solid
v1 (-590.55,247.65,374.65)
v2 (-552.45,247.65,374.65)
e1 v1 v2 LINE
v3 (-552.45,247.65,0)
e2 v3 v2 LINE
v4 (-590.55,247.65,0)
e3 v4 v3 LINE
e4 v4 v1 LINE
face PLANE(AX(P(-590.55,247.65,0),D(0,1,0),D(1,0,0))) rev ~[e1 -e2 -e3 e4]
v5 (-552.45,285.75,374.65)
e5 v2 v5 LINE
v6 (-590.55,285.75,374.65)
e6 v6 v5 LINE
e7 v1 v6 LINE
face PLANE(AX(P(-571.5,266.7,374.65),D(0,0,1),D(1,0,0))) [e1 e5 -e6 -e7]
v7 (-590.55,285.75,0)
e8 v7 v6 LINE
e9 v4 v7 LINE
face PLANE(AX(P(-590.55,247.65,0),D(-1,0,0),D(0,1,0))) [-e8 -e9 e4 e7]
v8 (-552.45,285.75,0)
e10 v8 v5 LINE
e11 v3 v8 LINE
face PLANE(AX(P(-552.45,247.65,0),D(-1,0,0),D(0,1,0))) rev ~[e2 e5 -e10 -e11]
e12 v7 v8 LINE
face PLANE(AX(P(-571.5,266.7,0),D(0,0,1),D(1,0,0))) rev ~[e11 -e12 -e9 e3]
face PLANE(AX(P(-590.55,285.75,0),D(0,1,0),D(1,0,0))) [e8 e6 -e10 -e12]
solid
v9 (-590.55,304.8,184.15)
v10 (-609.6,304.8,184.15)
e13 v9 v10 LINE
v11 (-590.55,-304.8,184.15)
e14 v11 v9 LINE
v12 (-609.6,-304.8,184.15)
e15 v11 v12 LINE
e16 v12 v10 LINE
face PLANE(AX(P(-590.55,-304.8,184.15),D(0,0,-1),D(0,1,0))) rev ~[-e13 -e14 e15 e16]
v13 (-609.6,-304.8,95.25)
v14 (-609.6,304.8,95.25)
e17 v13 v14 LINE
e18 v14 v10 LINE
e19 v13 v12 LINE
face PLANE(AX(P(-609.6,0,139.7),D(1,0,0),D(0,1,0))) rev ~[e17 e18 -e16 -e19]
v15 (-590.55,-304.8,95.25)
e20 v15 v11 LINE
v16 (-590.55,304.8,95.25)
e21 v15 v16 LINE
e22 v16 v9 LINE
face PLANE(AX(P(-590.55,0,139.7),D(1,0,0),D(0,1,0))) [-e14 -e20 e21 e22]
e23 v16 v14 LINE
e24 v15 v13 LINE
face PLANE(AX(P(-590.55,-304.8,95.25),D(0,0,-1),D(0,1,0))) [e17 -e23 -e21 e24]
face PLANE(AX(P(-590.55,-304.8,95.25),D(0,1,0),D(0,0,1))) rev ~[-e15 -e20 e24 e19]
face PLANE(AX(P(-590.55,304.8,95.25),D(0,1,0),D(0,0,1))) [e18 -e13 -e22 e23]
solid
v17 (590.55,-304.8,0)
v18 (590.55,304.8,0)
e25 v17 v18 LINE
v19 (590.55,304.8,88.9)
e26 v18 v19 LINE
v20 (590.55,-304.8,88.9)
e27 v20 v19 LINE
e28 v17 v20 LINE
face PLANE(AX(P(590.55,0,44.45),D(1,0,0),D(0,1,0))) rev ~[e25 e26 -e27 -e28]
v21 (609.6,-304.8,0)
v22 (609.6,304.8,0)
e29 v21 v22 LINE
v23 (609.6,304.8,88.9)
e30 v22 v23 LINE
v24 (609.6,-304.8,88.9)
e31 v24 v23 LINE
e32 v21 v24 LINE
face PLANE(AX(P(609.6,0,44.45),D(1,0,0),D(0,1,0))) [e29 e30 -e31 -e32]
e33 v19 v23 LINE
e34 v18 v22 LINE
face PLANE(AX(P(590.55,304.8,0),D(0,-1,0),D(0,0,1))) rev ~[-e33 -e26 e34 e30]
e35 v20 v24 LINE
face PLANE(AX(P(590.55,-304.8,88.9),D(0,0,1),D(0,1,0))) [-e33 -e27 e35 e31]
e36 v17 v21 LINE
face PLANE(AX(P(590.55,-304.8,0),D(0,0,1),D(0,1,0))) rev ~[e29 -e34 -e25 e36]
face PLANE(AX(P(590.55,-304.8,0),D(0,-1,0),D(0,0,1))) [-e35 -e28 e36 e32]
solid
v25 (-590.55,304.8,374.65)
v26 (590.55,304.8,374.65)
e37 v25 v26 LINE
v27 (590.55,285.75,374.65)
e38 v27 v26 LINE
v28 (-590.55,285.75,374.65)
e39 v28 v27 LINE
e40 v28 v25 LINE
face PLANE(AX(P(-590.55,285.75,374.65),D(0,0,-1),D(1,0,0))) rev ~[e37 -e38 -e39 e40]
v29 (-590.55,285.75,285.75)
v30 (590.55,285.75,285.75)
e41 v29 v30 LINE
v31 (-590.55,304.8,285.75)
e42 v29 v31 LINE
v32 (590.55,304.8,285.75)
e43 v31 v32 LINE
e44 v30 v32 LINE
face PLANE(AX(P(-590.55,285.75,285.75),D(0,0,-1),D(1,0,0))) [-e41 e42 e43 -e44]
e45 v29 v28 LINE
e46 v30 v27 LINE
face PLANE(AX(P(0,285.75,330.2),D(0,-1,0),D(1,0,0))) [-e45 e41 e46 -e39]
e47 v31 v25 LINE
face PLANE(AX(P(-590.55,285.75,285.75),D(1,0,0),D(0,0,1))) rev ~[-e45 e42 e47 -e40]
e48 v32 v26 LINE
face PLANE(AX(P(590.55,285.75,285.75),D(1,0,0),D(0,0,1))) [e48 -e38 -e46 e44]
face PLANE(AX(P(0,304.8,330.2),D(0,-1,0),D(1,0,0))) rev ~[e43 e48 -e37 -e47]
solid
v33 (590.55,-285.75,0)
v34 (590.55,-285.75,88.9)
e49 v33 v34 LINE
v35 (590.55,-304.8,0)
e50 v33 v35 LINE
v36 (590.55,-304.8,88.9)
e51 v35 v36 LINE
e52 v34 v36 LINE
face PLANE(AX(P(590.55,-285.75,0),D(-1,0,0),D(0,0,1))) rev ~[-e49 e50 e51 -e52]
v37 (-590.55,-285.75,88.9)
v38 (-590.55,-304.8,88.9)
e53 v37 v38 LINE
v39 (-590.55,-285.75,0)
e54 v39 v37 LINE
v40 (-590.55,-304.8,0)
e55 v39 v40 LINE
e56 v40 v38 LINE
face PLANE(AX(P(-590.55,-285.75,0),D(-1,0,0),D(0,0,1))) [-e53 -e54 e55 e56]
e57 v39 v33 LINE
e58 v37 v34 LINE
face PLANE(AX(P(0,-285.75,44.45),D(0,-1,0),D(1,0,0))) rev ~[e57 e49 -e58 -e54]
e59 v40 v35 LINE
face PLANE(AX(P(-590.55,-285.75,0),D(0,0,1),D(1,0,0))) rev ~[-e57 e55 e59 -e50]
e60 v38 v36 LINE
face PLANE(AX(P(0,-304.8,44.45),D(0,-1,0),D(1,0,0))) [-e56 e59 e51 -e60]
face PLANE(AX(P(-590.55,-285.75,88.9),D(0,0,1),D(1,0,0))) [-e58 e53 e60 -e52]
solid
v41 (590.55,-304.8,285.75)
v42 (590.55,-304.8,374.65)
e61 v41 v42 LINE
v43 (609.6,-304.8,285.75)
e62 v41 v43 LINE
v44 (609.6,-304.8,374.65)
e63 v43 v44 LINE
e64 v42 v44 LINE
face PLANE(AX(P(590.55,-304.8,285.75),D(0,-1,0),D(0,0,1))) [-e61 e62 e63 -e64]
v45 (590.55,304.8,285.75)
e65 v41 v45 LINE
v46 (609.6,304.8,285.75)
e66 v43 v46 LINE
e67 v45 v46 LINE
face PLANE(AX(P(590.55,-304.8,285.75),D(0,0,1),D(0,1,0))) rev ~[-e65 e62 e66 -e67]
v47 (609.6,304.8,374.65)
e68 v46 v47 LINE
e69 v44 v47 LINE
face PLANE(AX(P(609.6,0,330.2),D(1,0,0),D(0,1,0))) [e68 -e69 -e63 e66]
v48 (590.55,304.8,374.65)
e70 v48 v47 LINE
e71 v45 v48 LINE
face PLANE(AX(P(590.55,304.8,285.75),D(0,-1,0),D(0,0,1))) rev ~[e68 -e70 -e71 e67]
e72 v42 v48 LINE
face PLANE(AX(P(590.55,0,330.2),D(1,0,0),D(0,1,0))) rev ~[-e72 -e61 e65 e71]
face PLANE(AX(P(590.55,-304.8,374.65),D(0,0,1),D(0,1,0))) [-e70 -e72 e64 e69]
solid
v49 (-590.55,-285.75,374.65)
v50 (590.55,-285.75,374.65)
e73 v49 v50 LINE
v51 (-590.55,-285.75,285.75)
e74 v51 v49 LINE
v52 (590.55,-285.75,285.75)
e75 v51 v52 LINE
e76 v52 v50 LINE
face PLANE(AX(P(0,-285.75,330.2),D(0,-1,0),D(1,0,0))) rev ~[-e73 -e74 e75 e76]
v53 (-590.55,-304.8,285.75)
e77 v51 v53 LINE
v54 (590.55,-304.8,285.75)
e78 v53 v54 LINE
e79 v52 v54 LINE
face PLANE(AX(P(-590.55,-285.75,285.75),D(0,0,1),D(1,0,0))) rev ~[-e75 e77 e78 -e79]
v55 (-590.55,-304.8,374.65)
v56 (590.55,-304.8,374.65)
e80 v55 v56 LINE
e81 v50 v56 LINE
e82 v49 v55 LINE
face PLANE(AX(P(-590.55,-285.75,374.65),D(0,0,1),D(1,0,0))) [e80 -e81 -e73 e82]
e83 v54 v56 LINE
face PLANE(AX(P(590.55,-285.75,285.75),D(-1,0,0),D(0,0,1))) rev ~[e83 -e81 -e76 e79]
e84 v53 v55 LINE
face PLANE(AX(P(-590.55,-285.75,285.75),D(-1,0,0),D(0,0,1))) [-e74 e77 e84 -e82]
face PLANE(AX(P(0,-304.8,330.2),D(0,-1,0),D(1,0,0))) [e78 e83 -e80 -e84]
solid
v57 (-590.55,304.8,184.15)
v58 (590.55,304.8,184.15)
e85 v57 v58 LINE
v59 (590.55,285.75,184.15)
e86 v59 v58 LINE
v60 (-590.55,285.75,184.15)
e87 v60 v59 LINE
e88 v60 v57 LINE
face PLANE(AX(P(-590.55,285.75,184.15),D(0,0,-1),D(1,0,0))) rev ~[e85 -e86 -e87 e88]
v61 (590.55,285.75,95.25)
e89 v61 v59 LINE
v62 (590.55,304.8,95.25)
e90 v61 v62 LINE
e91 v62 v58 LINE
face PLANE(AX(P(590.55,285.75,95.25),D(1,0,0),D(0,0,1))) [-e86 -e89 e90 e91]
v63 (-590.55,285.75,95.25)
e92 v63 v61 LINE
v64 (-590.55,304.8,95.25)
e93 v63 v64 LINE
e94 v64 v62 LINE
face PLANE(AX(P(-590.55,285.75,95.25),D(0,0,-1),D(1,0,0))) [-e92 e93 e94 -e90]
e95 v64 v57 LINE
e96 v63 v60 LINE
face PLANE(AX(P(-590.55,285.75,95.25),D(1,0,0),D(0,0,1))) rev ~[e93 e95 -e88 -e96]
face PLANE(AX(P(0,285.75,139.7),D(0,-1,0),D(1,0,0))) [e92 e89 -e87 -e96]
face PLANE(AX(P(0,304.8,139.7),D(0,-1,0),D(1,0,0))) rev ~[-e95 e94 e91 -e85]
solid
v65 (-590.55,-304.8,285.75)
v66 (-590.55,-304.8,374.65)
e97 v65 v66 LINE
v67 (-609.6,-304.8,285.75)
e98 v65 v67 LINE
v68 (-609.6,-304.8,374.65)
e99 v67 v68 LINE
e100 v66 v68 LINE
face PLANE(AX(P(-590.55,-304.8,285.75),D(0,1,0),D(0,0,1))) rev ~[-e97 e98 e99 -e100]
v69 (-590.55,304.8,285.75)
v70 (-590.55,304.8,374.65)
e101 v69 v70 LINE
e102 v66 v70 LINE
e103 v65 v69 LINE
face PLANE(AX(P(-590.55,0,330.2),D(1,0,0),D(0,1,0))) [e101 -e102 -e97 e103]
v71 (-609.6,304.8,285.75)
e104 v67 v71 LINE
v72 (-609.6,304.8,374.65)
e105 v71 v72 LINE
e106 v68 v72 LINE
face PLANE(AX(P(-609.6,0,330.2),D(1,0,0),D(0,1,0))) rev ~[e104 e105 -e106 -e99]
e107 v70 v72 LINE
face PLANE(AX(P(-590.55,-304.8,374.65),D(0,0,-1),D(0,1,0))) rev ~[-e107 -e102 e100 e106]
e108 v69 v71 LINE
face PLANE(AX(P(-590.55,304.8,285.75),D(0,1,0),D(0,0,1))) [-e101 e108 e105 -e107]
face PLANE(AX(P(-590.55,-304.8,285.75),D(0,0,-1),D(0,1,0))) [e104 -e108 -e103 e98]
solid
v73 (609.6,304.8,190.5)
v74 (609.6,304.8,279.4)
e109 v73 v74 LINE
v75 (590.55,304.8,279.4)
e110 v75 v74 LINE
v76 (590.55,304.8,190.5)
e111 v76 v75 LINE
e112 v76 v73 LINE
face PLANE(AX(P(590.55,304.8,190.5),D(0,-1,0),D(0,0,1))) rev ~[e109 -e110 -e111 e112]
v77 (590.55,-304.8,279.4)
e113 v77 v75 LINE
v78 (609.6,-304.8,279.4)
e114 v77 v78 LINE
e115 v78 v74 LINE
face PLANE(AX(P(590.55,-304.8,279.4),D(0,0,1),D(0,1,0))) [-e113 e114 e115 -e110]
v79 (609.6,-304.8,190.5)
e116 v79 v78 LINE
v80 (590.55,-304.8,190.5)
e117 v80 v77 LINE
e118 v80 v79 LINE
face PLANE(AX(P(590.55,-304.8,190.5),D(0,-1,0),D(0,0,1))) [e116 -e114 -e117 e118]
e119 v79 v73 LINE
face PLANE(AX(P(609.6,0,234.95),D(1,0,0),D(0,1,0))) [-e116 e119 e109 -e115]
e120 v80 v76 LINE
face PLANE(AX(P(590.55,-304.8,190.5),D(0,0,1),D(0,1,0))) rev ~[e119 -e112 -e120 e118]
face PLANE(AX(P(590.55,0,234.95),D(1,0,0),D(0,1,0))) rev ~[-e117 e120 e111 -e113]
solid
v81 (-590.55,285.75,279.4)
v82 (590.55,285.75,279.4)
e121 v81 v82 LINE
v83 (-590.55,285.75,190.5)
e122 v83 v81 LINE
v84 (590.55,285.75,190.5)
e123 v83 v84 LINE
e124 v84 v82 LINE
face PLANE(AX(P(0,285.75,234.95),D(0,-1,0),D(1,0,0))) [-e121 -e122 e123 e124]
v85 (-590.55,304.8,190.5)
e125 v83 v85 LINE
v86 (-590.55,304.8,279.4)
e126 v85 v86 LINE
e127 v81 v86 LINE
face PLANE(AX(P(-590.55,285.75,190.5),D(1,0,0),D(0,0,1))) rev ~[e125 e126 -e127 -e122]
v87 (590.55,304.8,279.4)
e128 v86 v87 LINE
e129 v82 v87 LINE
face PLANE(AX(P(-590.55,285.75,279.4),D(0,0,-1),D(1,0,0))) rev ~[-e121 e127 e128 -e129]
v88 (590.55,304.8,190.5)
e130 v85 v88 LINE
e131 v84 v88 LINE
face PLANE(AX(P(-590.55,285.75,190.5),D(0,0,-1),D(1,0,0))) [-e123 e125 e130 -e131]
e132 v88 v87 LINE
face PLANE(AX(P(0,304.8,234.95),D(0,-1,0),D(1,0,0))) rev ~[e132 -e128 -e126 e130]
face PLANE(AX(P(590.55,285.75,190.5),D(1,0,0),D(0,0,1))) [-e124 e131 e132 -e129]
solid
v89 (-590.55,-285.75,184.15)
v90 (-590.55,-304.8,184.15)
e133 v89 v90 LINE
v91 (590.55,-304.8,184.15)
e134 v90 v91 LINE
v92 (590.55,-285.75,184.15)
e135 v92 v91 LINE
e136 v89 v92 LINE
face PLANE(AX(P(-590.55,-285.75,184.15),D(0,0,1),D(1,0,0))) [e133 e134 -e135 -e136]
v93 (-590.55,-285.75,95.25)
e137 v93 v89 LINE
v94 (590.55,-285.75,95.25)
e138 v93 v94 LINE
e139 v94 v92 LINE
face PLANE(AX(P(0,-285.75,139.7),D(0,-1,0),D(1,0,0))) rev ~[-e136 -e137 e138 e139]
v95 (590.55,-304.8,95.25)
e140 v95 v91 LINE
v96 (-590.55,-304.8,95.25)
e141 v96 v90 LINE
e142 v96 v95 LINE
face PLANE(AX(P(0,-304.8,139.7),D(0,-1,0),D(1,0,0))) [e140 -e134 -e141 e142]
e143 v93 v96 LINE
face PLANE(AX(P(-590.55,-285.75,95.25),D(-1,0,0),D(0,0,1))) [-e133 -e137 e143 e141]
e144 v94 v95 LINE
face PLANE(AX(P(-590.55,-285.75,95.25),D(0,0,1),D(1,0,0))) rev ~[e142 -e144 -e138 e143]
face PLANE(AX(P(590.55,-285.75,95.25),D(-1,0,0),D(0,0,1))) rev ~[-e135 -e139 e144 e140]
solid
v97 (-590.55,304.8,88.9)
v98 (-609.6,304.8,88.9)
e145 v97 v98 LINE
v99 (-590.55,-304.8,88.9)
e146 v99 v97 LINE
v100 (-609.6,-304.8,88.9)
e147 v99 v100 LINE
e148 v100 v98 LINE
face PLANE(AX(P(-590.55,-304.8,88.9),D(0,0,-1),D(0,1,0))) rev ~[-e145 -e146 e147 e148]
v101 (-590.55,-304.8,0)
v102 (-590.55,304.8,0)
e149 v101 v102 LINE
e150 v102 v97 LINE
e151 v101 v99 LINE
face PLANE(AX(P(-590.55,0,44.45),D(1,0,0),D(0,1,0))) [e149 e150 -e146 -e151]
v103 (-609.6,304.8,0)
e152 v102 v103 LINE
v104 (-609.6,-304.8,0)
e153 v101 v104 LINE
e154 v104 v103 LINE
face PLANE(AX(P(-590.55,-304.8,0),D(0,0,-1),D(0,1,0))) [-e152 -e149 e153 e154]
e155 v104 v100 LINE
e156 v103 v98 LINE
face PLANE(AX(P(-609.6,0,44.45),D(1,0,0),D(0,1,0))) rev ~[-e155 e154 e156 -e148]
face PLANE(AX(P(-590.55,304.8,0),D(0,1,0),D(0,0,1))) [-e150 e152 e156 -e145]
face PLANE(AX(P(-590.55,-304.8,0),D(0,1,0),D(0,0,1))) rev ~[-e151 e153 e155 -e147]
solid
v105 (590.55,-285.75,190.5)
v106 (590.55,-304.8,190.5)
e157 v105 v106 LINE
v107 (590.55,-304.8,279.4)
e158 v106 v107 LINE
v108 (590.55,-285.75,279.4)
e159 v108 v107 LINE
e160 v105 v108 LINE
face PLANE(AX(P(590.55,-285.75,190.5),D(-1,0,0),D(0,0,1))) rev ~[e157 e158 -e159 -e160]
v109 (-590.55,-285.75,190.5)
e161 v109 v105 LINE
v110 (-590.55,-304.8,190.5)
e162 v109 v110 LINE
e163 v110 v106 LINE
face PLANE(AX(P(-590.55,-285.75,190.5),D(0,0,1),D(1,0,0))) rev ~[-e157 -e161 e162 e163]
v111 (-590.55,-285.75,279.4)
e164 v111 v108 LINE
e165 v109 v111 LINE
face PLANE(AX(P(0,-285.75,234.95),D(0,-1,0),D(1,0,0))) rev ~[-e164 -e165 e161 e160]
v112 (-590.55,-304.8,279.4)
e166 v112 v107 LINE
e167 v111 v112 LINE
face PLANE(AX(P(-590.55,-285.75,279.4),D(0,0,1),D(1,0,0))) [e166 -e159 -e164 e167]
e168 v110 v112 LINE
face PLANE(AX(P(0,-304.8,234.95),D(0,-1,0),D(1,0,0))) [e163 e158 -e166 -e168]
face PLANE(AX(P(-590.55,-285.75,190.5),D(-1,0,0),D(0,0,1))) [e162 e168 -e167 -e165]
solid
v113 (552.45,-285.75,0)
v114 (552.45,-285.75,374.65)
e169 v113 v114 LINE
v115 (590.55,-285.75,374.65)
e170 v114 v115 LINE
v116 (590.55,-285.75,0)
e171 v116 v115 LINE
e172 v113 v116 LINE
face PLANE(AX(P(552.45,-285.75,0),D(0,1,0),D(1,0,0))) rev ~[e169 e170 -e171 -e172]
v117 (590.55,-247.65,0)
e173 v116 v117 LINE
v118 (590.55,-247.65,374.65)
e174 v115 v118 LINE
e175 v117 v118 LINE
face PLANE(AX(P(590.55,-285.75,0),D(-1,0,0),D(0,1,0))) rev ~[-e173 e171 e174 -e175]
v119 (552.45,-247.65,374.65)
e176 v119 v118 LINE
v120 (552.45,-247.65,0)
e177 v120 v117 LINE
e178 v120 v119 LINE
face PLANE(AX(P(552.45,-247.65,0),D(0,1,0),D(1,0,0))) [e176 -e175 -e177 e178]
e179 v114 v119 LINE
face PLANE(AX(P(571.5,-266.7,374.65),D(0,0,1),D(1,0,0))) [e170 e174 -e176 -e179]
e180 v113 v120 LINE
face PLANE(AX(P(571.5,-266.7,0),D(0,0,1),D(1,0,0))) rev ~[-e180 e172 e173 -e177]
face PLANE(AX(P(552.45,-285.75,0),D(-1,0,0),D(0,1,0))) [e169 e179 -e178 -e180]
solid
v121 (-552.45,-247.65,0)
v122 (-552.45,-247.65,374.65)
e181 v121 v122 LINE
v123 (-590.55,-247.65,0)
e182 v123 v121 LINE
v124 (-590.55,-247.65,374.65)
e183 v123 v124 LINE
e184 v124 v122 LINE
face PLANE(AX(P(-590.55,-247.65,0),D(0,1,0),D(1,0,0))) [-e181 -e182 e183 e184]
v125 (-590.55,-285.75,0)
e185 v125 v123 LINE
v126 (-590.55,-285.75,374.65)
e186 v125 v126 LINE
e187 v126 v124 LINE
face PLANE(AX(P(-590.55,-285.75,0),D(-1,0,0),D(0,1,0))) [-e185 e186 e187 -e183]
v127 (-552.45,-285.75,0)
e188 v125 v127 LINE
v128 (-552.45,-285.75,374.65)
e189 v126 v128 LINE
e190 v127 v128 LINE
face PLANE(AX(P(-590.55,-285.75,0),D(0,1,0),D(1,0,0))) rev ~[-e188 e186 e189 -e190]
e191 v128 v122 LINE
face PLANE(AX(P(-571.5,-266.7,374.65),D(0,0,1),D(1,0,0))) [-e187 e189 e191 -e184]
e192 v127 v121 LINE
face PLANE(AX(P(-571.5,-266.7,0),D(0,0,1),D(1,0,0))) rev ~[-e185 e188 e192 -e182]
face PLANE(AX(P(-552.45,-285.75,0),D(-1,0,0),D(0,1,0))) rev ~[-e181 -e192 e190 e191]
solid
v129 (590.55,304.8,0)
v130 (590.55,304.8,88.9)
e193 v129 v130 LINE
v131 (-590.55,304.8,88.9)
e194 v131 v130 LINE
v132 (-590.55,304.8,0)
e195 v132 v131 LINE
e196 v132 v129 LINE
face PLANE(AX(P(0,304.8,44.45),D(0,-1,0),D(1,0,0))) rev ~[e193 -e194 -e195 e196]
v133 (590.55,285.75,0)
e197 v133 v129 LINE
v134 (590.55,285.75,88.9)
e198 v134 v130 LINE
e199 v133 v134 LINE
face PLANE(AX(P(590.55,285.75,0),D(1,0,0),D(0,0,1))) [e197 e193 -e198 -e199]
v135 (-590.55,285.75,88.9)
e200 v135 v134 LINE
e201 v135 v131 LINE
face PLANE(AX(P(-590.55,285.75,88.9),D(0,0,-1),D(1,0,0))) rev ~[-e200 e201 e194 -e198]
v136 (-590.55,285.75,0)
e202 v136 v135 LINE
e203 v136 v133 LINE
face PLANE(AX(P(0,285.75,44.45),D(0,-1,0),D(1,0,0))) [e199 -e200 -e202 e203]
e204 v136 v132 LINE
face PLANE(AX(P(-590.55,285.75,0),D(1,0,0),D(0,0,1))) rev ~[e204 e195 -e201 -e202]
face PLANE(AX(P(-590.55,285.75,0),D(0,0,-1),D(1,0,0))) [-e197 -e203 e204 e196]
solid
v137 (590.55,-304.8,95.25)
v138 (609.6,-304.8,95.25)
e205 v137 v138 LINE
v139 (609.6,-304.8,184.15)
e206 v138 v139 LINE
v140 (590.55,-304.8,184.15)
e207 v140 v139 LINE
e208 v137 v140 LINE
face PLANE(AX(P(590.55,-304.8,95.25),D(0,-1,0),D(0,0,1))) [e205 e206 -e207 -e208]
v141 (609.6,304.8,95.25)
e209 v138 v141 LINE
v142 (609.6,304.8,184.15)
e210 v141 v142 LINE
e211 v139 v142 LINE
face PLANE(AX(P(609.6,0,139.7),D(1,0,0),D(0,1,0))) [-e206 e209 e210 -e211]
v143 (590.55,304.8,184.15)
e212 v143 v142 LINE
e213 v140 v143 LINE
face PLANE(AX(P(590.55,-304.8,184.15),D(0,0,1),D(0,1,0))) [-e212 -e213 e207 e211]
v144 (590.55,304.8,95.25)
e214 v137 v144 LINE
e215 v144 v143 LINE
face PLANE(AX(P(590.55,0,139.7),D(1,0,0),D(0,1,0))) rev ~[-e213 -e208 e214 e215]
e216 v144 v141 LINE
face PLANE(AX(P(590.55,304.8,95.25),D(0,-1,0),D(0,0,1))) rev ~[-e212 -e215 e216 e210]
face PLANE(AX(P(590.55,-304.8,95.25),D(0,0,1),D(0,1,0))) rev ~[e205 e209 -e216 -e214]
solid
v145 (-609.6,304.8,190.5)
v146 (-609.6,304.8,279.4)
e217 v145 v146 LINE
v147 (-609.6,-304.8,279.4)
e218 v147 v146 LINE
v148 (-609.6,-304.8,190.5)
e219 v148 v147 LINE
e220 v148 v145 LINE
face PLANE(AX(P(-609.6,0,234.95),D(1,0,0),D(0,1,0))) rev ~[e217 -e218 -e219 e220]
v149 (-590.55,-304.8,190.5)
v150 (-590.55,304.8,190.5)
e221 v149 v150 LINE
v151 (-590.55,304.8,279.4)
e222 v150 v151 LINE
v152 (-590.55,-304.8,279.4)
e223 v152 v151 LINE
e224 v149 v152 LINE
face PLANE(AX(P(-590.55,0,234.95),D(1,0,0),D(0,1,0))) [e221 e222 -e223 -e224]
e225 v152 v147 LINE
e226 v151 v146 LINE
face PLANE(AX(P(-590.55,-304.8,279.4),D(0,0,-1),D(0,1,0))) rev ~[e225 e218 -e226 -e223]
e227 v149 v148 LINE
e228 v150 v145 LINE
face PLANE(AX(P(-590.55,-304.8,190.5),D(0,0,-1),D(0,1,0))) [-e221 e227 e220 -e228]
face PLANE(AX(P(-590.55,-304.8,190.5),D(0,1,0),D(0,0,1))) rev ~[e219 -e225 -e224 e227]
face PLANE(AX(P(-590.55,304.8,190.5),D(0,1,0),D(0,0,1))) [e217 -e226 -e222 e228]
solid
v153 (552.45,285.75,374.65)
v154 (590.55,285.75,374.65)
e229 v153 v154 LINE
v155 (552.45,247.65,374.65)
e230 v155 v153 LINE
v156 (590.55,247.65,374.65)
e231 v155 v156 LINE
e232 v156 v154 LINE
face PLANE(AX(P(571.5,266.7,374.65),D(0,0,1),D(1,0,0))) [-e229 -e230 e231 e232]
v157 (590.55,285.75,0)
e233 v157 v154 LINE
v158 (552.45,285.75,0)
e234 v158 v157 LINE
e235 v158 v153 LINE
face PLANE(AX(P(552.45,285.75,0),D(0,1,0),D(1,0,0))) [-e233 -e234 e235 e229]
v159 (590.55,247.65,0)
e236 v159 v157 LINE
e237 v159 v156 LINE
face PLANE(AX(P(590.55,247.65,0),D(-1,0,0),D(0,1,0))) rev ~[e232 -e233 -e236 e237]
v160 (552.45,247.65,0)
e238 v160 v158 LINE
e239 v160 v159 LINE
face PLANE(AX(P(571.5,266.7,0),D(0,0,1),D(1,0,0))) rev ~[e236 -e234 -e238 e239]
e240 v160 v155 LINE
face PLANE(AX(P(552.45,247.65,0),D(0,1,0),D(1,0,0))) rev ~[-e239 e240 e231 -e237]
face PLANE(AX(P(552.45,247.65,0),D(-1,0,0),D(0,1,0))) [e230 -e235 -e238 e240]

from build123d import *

# Parameters (mm, degrees)
SKETCH_W     = 38.1
SKETCH_H     = 38.1
PAD_DEPTH    = 374.65
SKETCH001_W  = 38.1
SKETCH001_H  = 38.1
PAD001_DEPTH = 374.65
SKETCH002_W  = 38.1
SKETCH002_H  = 38.1
PAD002_DEPTH = 374.65
SKETCH003_W  = 38.1
SKETCH003_H  = 38.1
PAD003_DEPTH = 374.65
SKETCH004_W  = 1181.1
SKETCH004_H  = 88.9
PAD004_DEPTH = 19.05
SKETCH012_W  = 1181.1
SKETCH012_H  = 88.9
PAD012_DEPTH = 19.05
SKETCH013_W  = 1181.1
SKETCH013_H  = 88.9
PAD013_DEPTH = 19.05
SKETCH014_W  = 1181.1
SKETCH014_H  = 88.9
PAD014_DEPTH = 19.05
SKETCH008_W  = 609.6
SKETCH008_H  = 88.9
PAD008_DEPTH = 19.05
SKETCH009_W  = 609.6
SKETCH009_H  = 88.9
PAD009_DEPTH = 19.05
SKETCH010_W  = 609.6
SKETCH010_H  = 88.9
PAD010_DEPTH = 19.05
SKETCH011_W  = 609.6
SKETCH011_H  = 88.9
PAD011_DEPTH = 19.05
SKETCH015_W  = 609.6
SKETCH015_H  = 88.9
PAD015_DEPTH = 19.05
SKETCH016_W  = 609.6
SKETCH016_H  = 88.9
PAD016_DEPTH = 19.05
SKETCH017_W  = 609.6
SKETCH017_H  = 88.9
PAD017_DEPTH = 19.05
SKETCH018_W  = 609.6
SKETCH018_H  = 88.9
PAD018_DEPTH = 19.05
SKETCH019_W  = 1181.1
SKETCH019_H  = 88.9
PAD019_DEPTH = 19.05
SKETCH020_W  = 1181.1
SKETCH020_H  = 88.9
PAD020_DEPTH = 19.05
SKETCH021_W  = 1181.1
SKETCH021_H  = 88.9
PAD021_DEPTH = 19.05
SKETCH022_W  = 1181.1
SKETCH022_H  = 88.9
PAD022_DEPTH = 19.05


with BuildPart() as post1:
    # Sketch → Pad (new body)
    with BuildSketch(Plane.XY):
        with Locations((-571.5, 266.7)):
            Rectangle(SKETCH_W, SKETCH_H)
    extrude(amount=PAD_DEPTH)


with BuildPart() as post2:
    # Sketch001 → Pad001 (new body)
    with BuildSketch(Plane.XY):
        with Locations((571.5, 266.7)):
            Rectangle(SKETCH001_W, SKETCH001_H)
    extrude(amount=PAD001_DEPTH)


with BuildPart() as post3:
    # Sketch002 → Pad002 (new body)
    with BuildSketch(Plane.XY):
        with Locations((-571.5, -266.7)):
            Rectangle(SKETCH002_W, SKETCH002_H)
    extrude(amount=PAD002_DEPTH)


with BuildPart() as post4:
    # Sketch003 → Pad003 (new body)
    with BuildSketch(Plane.XY):
        with Locations((571.5, -266.7)):
            Rectangle(SKETCH003_W, SKETCH003_H)
    extrude(amount=PAD003_DEPTH)


with BuildPart() as panelfront1:
    # Sketch004 → Pad004 (new body)
    with BuildSketch(Plane.XZ.offset(285.75)):
        with Locations((0, 44.45)):
            Rectangle(SKETCH004_W, SKETCH004_H)
    extrude(amount=PAD004_DEPTH)


with BuildPart() as panelfront2:
    # Sketch012 → Pad012 (new body)
    with BuildSketch(Plane.XZ.offset(285.75)):
        with Locations((0, 139.7)):
            Rectangle(SKETCH012_W, SKETCH012_H)
    extrude(amount=PAD012_DEPTH)


with BuildPart() as panelfront3:
    # Sketch013 → Pad013 (new body)
    with BuildSketch(Plane.XZ.offset(285.75)):
        with Locations((0, 234.95)):
            Rectangle(SKETCH013_W, SKETCH013_H)
    extrude(amount=PAD013_DEPTH)


with BuildPart() as panelfront4:
    # Sketch014 → Pad014 (new body)
    with BuildSketch(Plane.XZ.offset(285.75)):
        with Locations((0, 330.2)):
            Rectangle(SKETCH014_W, SKETCH014_H)
    extrude(amount=PAD014_DEPTH)


with BuildPart() as panelright1:
    # Sketch008 → Pad008 (new body)
    with BuildSketch(Plane.YZ.offset(590.55)):
        with Locations((0, 44.45)):
            Rectangle(SKETCH008_W, SKETCH008_H)
    extrude(amount=PAD008_DEPTH)


with BuildPart() as panelright2:
    # Sketch009 → Pad009 (new body)
    with BuildSketch(Plane.YZ.offset(590.55)):
        with Locations((0, 139.7)):
            Rectangle(SKETCH009_W, SKETCH009_H)
    extrude(amount=PAD009_DEPTH)


with BuildPart() as panelright3:
    # Sketch010 → Pad010 (new body)
    with BuildSketch(Plane.YZ.offset(590.55)):
        with Locations((0, 234.95)):
            Rectangle(SKETCH010_W, SKETCH010_H)
    extrude(amount=PAD010_DEPTH)


with BuildPart() as panelright4:
    # Sketch011 → Pad011 (new body)
    with BuildSketch(Plane.YZ.offset(590.55)):
        with Locations((0, 330.2)):
            Rectangle(SKETCH011_W, SKETCH011_H)
    extrude(amount=PAD011_DEPTH)


with BuildPart() as panelleft1:
    # Sketch015 → Pad015 (new body)
    with BuildSketch(Plane.YZ.offset(-590.55)):
        with Locations((0, 44.45)):
            Rectangle(SKETCH015_W, SKETCH015_H)
    extrude(amount=-PAD015_DEPTH)


with BuildPart() as panelleft2:
    # Sketch016 → Pad016 (new body)
    with BuildSketch(Plane.YZ.offset(-590.55)):
        with Locations((0, 139.7)):
            Rectangle(SKETCH016_W, SKETCH016_H)
    extrude(amount=-PAD016_DEPTH)


with BuildPart() as panelleft3:
    # Sketch017 → Pad017 (new body)
    with BuildSketch(Plane.YZ.offset(-590.55)):
        with Locations((0, 234.95)):
            Rectangle(SKETCH017_W, SKETCH017_H)
    extrude(amount=-PAD017_DEPTH)


with BuildPart() as panelleft4:
    # Sketch018 → Pad018 (new body)
    with BuildSketch(Plane.YZ.offset(-590.55)):
        with Locations((0, 330.2)):
            Rectangle(SKETCH018_W, SKETCH018_H)
    extrude(amount=-PAD018_DEPTH)


with BuildPart() as panelrear1:
    # Sketch019 → Pad019 (new body)
    with BuildSketch(Plane.XZ.offset(-285.75)):
        with Locations((0, 44.45)):
            Rectangle(SKETCH019_W, SKETCH019_H)
    extrude(amount=-PAD019_DEPTH)


with BuildPart() as panelrear2:
    # Sketch020 → Pad020 (new body)
    with BuildSketch(Plane.XZ.offset(-285.75)):
        with Locations((0, 139.7)):
            Rectangle(SKETCH020_W, SKETCH020_H)
    extrude(amount=-PAD020_DEPTH)


with BuildPart() as panelrear3:
    # Sketch021 → Pad021 (new body)
    with BuildSketch(Plane.XZ.offset(-285.75)):
        with Locations((0, 234.95)):
            Rectangle(SKETCH021_W, SKETCH021_H)
    extrude(amount=-PAD021_DEPTH)


with BuildPart() as panelrear4:
    # Sketch022 → Pad022 (new body)
    with BuildSketch(Plane.XZ.offset(-285.75)):
        with Locations((0, 330.2)):
            Rectangle(SKETCH022_W, SKETCH022_H)
    extrude(amount=-PAD022_DEPTH)


solid = Compound([post1.part, post2.part, post3.part, post4.part, panelfront1.part, panelfront2.part, panelfront3.part, panelfront4.part, panelright1.part, panelright2.part, panelright3.part, panelright4.part, panelleft1.part, panelleft2.part, panelleft3.part, panelleft4.part, panelrear1.part, panelrear2.part, panelrear3.part, panelrear4.part])
